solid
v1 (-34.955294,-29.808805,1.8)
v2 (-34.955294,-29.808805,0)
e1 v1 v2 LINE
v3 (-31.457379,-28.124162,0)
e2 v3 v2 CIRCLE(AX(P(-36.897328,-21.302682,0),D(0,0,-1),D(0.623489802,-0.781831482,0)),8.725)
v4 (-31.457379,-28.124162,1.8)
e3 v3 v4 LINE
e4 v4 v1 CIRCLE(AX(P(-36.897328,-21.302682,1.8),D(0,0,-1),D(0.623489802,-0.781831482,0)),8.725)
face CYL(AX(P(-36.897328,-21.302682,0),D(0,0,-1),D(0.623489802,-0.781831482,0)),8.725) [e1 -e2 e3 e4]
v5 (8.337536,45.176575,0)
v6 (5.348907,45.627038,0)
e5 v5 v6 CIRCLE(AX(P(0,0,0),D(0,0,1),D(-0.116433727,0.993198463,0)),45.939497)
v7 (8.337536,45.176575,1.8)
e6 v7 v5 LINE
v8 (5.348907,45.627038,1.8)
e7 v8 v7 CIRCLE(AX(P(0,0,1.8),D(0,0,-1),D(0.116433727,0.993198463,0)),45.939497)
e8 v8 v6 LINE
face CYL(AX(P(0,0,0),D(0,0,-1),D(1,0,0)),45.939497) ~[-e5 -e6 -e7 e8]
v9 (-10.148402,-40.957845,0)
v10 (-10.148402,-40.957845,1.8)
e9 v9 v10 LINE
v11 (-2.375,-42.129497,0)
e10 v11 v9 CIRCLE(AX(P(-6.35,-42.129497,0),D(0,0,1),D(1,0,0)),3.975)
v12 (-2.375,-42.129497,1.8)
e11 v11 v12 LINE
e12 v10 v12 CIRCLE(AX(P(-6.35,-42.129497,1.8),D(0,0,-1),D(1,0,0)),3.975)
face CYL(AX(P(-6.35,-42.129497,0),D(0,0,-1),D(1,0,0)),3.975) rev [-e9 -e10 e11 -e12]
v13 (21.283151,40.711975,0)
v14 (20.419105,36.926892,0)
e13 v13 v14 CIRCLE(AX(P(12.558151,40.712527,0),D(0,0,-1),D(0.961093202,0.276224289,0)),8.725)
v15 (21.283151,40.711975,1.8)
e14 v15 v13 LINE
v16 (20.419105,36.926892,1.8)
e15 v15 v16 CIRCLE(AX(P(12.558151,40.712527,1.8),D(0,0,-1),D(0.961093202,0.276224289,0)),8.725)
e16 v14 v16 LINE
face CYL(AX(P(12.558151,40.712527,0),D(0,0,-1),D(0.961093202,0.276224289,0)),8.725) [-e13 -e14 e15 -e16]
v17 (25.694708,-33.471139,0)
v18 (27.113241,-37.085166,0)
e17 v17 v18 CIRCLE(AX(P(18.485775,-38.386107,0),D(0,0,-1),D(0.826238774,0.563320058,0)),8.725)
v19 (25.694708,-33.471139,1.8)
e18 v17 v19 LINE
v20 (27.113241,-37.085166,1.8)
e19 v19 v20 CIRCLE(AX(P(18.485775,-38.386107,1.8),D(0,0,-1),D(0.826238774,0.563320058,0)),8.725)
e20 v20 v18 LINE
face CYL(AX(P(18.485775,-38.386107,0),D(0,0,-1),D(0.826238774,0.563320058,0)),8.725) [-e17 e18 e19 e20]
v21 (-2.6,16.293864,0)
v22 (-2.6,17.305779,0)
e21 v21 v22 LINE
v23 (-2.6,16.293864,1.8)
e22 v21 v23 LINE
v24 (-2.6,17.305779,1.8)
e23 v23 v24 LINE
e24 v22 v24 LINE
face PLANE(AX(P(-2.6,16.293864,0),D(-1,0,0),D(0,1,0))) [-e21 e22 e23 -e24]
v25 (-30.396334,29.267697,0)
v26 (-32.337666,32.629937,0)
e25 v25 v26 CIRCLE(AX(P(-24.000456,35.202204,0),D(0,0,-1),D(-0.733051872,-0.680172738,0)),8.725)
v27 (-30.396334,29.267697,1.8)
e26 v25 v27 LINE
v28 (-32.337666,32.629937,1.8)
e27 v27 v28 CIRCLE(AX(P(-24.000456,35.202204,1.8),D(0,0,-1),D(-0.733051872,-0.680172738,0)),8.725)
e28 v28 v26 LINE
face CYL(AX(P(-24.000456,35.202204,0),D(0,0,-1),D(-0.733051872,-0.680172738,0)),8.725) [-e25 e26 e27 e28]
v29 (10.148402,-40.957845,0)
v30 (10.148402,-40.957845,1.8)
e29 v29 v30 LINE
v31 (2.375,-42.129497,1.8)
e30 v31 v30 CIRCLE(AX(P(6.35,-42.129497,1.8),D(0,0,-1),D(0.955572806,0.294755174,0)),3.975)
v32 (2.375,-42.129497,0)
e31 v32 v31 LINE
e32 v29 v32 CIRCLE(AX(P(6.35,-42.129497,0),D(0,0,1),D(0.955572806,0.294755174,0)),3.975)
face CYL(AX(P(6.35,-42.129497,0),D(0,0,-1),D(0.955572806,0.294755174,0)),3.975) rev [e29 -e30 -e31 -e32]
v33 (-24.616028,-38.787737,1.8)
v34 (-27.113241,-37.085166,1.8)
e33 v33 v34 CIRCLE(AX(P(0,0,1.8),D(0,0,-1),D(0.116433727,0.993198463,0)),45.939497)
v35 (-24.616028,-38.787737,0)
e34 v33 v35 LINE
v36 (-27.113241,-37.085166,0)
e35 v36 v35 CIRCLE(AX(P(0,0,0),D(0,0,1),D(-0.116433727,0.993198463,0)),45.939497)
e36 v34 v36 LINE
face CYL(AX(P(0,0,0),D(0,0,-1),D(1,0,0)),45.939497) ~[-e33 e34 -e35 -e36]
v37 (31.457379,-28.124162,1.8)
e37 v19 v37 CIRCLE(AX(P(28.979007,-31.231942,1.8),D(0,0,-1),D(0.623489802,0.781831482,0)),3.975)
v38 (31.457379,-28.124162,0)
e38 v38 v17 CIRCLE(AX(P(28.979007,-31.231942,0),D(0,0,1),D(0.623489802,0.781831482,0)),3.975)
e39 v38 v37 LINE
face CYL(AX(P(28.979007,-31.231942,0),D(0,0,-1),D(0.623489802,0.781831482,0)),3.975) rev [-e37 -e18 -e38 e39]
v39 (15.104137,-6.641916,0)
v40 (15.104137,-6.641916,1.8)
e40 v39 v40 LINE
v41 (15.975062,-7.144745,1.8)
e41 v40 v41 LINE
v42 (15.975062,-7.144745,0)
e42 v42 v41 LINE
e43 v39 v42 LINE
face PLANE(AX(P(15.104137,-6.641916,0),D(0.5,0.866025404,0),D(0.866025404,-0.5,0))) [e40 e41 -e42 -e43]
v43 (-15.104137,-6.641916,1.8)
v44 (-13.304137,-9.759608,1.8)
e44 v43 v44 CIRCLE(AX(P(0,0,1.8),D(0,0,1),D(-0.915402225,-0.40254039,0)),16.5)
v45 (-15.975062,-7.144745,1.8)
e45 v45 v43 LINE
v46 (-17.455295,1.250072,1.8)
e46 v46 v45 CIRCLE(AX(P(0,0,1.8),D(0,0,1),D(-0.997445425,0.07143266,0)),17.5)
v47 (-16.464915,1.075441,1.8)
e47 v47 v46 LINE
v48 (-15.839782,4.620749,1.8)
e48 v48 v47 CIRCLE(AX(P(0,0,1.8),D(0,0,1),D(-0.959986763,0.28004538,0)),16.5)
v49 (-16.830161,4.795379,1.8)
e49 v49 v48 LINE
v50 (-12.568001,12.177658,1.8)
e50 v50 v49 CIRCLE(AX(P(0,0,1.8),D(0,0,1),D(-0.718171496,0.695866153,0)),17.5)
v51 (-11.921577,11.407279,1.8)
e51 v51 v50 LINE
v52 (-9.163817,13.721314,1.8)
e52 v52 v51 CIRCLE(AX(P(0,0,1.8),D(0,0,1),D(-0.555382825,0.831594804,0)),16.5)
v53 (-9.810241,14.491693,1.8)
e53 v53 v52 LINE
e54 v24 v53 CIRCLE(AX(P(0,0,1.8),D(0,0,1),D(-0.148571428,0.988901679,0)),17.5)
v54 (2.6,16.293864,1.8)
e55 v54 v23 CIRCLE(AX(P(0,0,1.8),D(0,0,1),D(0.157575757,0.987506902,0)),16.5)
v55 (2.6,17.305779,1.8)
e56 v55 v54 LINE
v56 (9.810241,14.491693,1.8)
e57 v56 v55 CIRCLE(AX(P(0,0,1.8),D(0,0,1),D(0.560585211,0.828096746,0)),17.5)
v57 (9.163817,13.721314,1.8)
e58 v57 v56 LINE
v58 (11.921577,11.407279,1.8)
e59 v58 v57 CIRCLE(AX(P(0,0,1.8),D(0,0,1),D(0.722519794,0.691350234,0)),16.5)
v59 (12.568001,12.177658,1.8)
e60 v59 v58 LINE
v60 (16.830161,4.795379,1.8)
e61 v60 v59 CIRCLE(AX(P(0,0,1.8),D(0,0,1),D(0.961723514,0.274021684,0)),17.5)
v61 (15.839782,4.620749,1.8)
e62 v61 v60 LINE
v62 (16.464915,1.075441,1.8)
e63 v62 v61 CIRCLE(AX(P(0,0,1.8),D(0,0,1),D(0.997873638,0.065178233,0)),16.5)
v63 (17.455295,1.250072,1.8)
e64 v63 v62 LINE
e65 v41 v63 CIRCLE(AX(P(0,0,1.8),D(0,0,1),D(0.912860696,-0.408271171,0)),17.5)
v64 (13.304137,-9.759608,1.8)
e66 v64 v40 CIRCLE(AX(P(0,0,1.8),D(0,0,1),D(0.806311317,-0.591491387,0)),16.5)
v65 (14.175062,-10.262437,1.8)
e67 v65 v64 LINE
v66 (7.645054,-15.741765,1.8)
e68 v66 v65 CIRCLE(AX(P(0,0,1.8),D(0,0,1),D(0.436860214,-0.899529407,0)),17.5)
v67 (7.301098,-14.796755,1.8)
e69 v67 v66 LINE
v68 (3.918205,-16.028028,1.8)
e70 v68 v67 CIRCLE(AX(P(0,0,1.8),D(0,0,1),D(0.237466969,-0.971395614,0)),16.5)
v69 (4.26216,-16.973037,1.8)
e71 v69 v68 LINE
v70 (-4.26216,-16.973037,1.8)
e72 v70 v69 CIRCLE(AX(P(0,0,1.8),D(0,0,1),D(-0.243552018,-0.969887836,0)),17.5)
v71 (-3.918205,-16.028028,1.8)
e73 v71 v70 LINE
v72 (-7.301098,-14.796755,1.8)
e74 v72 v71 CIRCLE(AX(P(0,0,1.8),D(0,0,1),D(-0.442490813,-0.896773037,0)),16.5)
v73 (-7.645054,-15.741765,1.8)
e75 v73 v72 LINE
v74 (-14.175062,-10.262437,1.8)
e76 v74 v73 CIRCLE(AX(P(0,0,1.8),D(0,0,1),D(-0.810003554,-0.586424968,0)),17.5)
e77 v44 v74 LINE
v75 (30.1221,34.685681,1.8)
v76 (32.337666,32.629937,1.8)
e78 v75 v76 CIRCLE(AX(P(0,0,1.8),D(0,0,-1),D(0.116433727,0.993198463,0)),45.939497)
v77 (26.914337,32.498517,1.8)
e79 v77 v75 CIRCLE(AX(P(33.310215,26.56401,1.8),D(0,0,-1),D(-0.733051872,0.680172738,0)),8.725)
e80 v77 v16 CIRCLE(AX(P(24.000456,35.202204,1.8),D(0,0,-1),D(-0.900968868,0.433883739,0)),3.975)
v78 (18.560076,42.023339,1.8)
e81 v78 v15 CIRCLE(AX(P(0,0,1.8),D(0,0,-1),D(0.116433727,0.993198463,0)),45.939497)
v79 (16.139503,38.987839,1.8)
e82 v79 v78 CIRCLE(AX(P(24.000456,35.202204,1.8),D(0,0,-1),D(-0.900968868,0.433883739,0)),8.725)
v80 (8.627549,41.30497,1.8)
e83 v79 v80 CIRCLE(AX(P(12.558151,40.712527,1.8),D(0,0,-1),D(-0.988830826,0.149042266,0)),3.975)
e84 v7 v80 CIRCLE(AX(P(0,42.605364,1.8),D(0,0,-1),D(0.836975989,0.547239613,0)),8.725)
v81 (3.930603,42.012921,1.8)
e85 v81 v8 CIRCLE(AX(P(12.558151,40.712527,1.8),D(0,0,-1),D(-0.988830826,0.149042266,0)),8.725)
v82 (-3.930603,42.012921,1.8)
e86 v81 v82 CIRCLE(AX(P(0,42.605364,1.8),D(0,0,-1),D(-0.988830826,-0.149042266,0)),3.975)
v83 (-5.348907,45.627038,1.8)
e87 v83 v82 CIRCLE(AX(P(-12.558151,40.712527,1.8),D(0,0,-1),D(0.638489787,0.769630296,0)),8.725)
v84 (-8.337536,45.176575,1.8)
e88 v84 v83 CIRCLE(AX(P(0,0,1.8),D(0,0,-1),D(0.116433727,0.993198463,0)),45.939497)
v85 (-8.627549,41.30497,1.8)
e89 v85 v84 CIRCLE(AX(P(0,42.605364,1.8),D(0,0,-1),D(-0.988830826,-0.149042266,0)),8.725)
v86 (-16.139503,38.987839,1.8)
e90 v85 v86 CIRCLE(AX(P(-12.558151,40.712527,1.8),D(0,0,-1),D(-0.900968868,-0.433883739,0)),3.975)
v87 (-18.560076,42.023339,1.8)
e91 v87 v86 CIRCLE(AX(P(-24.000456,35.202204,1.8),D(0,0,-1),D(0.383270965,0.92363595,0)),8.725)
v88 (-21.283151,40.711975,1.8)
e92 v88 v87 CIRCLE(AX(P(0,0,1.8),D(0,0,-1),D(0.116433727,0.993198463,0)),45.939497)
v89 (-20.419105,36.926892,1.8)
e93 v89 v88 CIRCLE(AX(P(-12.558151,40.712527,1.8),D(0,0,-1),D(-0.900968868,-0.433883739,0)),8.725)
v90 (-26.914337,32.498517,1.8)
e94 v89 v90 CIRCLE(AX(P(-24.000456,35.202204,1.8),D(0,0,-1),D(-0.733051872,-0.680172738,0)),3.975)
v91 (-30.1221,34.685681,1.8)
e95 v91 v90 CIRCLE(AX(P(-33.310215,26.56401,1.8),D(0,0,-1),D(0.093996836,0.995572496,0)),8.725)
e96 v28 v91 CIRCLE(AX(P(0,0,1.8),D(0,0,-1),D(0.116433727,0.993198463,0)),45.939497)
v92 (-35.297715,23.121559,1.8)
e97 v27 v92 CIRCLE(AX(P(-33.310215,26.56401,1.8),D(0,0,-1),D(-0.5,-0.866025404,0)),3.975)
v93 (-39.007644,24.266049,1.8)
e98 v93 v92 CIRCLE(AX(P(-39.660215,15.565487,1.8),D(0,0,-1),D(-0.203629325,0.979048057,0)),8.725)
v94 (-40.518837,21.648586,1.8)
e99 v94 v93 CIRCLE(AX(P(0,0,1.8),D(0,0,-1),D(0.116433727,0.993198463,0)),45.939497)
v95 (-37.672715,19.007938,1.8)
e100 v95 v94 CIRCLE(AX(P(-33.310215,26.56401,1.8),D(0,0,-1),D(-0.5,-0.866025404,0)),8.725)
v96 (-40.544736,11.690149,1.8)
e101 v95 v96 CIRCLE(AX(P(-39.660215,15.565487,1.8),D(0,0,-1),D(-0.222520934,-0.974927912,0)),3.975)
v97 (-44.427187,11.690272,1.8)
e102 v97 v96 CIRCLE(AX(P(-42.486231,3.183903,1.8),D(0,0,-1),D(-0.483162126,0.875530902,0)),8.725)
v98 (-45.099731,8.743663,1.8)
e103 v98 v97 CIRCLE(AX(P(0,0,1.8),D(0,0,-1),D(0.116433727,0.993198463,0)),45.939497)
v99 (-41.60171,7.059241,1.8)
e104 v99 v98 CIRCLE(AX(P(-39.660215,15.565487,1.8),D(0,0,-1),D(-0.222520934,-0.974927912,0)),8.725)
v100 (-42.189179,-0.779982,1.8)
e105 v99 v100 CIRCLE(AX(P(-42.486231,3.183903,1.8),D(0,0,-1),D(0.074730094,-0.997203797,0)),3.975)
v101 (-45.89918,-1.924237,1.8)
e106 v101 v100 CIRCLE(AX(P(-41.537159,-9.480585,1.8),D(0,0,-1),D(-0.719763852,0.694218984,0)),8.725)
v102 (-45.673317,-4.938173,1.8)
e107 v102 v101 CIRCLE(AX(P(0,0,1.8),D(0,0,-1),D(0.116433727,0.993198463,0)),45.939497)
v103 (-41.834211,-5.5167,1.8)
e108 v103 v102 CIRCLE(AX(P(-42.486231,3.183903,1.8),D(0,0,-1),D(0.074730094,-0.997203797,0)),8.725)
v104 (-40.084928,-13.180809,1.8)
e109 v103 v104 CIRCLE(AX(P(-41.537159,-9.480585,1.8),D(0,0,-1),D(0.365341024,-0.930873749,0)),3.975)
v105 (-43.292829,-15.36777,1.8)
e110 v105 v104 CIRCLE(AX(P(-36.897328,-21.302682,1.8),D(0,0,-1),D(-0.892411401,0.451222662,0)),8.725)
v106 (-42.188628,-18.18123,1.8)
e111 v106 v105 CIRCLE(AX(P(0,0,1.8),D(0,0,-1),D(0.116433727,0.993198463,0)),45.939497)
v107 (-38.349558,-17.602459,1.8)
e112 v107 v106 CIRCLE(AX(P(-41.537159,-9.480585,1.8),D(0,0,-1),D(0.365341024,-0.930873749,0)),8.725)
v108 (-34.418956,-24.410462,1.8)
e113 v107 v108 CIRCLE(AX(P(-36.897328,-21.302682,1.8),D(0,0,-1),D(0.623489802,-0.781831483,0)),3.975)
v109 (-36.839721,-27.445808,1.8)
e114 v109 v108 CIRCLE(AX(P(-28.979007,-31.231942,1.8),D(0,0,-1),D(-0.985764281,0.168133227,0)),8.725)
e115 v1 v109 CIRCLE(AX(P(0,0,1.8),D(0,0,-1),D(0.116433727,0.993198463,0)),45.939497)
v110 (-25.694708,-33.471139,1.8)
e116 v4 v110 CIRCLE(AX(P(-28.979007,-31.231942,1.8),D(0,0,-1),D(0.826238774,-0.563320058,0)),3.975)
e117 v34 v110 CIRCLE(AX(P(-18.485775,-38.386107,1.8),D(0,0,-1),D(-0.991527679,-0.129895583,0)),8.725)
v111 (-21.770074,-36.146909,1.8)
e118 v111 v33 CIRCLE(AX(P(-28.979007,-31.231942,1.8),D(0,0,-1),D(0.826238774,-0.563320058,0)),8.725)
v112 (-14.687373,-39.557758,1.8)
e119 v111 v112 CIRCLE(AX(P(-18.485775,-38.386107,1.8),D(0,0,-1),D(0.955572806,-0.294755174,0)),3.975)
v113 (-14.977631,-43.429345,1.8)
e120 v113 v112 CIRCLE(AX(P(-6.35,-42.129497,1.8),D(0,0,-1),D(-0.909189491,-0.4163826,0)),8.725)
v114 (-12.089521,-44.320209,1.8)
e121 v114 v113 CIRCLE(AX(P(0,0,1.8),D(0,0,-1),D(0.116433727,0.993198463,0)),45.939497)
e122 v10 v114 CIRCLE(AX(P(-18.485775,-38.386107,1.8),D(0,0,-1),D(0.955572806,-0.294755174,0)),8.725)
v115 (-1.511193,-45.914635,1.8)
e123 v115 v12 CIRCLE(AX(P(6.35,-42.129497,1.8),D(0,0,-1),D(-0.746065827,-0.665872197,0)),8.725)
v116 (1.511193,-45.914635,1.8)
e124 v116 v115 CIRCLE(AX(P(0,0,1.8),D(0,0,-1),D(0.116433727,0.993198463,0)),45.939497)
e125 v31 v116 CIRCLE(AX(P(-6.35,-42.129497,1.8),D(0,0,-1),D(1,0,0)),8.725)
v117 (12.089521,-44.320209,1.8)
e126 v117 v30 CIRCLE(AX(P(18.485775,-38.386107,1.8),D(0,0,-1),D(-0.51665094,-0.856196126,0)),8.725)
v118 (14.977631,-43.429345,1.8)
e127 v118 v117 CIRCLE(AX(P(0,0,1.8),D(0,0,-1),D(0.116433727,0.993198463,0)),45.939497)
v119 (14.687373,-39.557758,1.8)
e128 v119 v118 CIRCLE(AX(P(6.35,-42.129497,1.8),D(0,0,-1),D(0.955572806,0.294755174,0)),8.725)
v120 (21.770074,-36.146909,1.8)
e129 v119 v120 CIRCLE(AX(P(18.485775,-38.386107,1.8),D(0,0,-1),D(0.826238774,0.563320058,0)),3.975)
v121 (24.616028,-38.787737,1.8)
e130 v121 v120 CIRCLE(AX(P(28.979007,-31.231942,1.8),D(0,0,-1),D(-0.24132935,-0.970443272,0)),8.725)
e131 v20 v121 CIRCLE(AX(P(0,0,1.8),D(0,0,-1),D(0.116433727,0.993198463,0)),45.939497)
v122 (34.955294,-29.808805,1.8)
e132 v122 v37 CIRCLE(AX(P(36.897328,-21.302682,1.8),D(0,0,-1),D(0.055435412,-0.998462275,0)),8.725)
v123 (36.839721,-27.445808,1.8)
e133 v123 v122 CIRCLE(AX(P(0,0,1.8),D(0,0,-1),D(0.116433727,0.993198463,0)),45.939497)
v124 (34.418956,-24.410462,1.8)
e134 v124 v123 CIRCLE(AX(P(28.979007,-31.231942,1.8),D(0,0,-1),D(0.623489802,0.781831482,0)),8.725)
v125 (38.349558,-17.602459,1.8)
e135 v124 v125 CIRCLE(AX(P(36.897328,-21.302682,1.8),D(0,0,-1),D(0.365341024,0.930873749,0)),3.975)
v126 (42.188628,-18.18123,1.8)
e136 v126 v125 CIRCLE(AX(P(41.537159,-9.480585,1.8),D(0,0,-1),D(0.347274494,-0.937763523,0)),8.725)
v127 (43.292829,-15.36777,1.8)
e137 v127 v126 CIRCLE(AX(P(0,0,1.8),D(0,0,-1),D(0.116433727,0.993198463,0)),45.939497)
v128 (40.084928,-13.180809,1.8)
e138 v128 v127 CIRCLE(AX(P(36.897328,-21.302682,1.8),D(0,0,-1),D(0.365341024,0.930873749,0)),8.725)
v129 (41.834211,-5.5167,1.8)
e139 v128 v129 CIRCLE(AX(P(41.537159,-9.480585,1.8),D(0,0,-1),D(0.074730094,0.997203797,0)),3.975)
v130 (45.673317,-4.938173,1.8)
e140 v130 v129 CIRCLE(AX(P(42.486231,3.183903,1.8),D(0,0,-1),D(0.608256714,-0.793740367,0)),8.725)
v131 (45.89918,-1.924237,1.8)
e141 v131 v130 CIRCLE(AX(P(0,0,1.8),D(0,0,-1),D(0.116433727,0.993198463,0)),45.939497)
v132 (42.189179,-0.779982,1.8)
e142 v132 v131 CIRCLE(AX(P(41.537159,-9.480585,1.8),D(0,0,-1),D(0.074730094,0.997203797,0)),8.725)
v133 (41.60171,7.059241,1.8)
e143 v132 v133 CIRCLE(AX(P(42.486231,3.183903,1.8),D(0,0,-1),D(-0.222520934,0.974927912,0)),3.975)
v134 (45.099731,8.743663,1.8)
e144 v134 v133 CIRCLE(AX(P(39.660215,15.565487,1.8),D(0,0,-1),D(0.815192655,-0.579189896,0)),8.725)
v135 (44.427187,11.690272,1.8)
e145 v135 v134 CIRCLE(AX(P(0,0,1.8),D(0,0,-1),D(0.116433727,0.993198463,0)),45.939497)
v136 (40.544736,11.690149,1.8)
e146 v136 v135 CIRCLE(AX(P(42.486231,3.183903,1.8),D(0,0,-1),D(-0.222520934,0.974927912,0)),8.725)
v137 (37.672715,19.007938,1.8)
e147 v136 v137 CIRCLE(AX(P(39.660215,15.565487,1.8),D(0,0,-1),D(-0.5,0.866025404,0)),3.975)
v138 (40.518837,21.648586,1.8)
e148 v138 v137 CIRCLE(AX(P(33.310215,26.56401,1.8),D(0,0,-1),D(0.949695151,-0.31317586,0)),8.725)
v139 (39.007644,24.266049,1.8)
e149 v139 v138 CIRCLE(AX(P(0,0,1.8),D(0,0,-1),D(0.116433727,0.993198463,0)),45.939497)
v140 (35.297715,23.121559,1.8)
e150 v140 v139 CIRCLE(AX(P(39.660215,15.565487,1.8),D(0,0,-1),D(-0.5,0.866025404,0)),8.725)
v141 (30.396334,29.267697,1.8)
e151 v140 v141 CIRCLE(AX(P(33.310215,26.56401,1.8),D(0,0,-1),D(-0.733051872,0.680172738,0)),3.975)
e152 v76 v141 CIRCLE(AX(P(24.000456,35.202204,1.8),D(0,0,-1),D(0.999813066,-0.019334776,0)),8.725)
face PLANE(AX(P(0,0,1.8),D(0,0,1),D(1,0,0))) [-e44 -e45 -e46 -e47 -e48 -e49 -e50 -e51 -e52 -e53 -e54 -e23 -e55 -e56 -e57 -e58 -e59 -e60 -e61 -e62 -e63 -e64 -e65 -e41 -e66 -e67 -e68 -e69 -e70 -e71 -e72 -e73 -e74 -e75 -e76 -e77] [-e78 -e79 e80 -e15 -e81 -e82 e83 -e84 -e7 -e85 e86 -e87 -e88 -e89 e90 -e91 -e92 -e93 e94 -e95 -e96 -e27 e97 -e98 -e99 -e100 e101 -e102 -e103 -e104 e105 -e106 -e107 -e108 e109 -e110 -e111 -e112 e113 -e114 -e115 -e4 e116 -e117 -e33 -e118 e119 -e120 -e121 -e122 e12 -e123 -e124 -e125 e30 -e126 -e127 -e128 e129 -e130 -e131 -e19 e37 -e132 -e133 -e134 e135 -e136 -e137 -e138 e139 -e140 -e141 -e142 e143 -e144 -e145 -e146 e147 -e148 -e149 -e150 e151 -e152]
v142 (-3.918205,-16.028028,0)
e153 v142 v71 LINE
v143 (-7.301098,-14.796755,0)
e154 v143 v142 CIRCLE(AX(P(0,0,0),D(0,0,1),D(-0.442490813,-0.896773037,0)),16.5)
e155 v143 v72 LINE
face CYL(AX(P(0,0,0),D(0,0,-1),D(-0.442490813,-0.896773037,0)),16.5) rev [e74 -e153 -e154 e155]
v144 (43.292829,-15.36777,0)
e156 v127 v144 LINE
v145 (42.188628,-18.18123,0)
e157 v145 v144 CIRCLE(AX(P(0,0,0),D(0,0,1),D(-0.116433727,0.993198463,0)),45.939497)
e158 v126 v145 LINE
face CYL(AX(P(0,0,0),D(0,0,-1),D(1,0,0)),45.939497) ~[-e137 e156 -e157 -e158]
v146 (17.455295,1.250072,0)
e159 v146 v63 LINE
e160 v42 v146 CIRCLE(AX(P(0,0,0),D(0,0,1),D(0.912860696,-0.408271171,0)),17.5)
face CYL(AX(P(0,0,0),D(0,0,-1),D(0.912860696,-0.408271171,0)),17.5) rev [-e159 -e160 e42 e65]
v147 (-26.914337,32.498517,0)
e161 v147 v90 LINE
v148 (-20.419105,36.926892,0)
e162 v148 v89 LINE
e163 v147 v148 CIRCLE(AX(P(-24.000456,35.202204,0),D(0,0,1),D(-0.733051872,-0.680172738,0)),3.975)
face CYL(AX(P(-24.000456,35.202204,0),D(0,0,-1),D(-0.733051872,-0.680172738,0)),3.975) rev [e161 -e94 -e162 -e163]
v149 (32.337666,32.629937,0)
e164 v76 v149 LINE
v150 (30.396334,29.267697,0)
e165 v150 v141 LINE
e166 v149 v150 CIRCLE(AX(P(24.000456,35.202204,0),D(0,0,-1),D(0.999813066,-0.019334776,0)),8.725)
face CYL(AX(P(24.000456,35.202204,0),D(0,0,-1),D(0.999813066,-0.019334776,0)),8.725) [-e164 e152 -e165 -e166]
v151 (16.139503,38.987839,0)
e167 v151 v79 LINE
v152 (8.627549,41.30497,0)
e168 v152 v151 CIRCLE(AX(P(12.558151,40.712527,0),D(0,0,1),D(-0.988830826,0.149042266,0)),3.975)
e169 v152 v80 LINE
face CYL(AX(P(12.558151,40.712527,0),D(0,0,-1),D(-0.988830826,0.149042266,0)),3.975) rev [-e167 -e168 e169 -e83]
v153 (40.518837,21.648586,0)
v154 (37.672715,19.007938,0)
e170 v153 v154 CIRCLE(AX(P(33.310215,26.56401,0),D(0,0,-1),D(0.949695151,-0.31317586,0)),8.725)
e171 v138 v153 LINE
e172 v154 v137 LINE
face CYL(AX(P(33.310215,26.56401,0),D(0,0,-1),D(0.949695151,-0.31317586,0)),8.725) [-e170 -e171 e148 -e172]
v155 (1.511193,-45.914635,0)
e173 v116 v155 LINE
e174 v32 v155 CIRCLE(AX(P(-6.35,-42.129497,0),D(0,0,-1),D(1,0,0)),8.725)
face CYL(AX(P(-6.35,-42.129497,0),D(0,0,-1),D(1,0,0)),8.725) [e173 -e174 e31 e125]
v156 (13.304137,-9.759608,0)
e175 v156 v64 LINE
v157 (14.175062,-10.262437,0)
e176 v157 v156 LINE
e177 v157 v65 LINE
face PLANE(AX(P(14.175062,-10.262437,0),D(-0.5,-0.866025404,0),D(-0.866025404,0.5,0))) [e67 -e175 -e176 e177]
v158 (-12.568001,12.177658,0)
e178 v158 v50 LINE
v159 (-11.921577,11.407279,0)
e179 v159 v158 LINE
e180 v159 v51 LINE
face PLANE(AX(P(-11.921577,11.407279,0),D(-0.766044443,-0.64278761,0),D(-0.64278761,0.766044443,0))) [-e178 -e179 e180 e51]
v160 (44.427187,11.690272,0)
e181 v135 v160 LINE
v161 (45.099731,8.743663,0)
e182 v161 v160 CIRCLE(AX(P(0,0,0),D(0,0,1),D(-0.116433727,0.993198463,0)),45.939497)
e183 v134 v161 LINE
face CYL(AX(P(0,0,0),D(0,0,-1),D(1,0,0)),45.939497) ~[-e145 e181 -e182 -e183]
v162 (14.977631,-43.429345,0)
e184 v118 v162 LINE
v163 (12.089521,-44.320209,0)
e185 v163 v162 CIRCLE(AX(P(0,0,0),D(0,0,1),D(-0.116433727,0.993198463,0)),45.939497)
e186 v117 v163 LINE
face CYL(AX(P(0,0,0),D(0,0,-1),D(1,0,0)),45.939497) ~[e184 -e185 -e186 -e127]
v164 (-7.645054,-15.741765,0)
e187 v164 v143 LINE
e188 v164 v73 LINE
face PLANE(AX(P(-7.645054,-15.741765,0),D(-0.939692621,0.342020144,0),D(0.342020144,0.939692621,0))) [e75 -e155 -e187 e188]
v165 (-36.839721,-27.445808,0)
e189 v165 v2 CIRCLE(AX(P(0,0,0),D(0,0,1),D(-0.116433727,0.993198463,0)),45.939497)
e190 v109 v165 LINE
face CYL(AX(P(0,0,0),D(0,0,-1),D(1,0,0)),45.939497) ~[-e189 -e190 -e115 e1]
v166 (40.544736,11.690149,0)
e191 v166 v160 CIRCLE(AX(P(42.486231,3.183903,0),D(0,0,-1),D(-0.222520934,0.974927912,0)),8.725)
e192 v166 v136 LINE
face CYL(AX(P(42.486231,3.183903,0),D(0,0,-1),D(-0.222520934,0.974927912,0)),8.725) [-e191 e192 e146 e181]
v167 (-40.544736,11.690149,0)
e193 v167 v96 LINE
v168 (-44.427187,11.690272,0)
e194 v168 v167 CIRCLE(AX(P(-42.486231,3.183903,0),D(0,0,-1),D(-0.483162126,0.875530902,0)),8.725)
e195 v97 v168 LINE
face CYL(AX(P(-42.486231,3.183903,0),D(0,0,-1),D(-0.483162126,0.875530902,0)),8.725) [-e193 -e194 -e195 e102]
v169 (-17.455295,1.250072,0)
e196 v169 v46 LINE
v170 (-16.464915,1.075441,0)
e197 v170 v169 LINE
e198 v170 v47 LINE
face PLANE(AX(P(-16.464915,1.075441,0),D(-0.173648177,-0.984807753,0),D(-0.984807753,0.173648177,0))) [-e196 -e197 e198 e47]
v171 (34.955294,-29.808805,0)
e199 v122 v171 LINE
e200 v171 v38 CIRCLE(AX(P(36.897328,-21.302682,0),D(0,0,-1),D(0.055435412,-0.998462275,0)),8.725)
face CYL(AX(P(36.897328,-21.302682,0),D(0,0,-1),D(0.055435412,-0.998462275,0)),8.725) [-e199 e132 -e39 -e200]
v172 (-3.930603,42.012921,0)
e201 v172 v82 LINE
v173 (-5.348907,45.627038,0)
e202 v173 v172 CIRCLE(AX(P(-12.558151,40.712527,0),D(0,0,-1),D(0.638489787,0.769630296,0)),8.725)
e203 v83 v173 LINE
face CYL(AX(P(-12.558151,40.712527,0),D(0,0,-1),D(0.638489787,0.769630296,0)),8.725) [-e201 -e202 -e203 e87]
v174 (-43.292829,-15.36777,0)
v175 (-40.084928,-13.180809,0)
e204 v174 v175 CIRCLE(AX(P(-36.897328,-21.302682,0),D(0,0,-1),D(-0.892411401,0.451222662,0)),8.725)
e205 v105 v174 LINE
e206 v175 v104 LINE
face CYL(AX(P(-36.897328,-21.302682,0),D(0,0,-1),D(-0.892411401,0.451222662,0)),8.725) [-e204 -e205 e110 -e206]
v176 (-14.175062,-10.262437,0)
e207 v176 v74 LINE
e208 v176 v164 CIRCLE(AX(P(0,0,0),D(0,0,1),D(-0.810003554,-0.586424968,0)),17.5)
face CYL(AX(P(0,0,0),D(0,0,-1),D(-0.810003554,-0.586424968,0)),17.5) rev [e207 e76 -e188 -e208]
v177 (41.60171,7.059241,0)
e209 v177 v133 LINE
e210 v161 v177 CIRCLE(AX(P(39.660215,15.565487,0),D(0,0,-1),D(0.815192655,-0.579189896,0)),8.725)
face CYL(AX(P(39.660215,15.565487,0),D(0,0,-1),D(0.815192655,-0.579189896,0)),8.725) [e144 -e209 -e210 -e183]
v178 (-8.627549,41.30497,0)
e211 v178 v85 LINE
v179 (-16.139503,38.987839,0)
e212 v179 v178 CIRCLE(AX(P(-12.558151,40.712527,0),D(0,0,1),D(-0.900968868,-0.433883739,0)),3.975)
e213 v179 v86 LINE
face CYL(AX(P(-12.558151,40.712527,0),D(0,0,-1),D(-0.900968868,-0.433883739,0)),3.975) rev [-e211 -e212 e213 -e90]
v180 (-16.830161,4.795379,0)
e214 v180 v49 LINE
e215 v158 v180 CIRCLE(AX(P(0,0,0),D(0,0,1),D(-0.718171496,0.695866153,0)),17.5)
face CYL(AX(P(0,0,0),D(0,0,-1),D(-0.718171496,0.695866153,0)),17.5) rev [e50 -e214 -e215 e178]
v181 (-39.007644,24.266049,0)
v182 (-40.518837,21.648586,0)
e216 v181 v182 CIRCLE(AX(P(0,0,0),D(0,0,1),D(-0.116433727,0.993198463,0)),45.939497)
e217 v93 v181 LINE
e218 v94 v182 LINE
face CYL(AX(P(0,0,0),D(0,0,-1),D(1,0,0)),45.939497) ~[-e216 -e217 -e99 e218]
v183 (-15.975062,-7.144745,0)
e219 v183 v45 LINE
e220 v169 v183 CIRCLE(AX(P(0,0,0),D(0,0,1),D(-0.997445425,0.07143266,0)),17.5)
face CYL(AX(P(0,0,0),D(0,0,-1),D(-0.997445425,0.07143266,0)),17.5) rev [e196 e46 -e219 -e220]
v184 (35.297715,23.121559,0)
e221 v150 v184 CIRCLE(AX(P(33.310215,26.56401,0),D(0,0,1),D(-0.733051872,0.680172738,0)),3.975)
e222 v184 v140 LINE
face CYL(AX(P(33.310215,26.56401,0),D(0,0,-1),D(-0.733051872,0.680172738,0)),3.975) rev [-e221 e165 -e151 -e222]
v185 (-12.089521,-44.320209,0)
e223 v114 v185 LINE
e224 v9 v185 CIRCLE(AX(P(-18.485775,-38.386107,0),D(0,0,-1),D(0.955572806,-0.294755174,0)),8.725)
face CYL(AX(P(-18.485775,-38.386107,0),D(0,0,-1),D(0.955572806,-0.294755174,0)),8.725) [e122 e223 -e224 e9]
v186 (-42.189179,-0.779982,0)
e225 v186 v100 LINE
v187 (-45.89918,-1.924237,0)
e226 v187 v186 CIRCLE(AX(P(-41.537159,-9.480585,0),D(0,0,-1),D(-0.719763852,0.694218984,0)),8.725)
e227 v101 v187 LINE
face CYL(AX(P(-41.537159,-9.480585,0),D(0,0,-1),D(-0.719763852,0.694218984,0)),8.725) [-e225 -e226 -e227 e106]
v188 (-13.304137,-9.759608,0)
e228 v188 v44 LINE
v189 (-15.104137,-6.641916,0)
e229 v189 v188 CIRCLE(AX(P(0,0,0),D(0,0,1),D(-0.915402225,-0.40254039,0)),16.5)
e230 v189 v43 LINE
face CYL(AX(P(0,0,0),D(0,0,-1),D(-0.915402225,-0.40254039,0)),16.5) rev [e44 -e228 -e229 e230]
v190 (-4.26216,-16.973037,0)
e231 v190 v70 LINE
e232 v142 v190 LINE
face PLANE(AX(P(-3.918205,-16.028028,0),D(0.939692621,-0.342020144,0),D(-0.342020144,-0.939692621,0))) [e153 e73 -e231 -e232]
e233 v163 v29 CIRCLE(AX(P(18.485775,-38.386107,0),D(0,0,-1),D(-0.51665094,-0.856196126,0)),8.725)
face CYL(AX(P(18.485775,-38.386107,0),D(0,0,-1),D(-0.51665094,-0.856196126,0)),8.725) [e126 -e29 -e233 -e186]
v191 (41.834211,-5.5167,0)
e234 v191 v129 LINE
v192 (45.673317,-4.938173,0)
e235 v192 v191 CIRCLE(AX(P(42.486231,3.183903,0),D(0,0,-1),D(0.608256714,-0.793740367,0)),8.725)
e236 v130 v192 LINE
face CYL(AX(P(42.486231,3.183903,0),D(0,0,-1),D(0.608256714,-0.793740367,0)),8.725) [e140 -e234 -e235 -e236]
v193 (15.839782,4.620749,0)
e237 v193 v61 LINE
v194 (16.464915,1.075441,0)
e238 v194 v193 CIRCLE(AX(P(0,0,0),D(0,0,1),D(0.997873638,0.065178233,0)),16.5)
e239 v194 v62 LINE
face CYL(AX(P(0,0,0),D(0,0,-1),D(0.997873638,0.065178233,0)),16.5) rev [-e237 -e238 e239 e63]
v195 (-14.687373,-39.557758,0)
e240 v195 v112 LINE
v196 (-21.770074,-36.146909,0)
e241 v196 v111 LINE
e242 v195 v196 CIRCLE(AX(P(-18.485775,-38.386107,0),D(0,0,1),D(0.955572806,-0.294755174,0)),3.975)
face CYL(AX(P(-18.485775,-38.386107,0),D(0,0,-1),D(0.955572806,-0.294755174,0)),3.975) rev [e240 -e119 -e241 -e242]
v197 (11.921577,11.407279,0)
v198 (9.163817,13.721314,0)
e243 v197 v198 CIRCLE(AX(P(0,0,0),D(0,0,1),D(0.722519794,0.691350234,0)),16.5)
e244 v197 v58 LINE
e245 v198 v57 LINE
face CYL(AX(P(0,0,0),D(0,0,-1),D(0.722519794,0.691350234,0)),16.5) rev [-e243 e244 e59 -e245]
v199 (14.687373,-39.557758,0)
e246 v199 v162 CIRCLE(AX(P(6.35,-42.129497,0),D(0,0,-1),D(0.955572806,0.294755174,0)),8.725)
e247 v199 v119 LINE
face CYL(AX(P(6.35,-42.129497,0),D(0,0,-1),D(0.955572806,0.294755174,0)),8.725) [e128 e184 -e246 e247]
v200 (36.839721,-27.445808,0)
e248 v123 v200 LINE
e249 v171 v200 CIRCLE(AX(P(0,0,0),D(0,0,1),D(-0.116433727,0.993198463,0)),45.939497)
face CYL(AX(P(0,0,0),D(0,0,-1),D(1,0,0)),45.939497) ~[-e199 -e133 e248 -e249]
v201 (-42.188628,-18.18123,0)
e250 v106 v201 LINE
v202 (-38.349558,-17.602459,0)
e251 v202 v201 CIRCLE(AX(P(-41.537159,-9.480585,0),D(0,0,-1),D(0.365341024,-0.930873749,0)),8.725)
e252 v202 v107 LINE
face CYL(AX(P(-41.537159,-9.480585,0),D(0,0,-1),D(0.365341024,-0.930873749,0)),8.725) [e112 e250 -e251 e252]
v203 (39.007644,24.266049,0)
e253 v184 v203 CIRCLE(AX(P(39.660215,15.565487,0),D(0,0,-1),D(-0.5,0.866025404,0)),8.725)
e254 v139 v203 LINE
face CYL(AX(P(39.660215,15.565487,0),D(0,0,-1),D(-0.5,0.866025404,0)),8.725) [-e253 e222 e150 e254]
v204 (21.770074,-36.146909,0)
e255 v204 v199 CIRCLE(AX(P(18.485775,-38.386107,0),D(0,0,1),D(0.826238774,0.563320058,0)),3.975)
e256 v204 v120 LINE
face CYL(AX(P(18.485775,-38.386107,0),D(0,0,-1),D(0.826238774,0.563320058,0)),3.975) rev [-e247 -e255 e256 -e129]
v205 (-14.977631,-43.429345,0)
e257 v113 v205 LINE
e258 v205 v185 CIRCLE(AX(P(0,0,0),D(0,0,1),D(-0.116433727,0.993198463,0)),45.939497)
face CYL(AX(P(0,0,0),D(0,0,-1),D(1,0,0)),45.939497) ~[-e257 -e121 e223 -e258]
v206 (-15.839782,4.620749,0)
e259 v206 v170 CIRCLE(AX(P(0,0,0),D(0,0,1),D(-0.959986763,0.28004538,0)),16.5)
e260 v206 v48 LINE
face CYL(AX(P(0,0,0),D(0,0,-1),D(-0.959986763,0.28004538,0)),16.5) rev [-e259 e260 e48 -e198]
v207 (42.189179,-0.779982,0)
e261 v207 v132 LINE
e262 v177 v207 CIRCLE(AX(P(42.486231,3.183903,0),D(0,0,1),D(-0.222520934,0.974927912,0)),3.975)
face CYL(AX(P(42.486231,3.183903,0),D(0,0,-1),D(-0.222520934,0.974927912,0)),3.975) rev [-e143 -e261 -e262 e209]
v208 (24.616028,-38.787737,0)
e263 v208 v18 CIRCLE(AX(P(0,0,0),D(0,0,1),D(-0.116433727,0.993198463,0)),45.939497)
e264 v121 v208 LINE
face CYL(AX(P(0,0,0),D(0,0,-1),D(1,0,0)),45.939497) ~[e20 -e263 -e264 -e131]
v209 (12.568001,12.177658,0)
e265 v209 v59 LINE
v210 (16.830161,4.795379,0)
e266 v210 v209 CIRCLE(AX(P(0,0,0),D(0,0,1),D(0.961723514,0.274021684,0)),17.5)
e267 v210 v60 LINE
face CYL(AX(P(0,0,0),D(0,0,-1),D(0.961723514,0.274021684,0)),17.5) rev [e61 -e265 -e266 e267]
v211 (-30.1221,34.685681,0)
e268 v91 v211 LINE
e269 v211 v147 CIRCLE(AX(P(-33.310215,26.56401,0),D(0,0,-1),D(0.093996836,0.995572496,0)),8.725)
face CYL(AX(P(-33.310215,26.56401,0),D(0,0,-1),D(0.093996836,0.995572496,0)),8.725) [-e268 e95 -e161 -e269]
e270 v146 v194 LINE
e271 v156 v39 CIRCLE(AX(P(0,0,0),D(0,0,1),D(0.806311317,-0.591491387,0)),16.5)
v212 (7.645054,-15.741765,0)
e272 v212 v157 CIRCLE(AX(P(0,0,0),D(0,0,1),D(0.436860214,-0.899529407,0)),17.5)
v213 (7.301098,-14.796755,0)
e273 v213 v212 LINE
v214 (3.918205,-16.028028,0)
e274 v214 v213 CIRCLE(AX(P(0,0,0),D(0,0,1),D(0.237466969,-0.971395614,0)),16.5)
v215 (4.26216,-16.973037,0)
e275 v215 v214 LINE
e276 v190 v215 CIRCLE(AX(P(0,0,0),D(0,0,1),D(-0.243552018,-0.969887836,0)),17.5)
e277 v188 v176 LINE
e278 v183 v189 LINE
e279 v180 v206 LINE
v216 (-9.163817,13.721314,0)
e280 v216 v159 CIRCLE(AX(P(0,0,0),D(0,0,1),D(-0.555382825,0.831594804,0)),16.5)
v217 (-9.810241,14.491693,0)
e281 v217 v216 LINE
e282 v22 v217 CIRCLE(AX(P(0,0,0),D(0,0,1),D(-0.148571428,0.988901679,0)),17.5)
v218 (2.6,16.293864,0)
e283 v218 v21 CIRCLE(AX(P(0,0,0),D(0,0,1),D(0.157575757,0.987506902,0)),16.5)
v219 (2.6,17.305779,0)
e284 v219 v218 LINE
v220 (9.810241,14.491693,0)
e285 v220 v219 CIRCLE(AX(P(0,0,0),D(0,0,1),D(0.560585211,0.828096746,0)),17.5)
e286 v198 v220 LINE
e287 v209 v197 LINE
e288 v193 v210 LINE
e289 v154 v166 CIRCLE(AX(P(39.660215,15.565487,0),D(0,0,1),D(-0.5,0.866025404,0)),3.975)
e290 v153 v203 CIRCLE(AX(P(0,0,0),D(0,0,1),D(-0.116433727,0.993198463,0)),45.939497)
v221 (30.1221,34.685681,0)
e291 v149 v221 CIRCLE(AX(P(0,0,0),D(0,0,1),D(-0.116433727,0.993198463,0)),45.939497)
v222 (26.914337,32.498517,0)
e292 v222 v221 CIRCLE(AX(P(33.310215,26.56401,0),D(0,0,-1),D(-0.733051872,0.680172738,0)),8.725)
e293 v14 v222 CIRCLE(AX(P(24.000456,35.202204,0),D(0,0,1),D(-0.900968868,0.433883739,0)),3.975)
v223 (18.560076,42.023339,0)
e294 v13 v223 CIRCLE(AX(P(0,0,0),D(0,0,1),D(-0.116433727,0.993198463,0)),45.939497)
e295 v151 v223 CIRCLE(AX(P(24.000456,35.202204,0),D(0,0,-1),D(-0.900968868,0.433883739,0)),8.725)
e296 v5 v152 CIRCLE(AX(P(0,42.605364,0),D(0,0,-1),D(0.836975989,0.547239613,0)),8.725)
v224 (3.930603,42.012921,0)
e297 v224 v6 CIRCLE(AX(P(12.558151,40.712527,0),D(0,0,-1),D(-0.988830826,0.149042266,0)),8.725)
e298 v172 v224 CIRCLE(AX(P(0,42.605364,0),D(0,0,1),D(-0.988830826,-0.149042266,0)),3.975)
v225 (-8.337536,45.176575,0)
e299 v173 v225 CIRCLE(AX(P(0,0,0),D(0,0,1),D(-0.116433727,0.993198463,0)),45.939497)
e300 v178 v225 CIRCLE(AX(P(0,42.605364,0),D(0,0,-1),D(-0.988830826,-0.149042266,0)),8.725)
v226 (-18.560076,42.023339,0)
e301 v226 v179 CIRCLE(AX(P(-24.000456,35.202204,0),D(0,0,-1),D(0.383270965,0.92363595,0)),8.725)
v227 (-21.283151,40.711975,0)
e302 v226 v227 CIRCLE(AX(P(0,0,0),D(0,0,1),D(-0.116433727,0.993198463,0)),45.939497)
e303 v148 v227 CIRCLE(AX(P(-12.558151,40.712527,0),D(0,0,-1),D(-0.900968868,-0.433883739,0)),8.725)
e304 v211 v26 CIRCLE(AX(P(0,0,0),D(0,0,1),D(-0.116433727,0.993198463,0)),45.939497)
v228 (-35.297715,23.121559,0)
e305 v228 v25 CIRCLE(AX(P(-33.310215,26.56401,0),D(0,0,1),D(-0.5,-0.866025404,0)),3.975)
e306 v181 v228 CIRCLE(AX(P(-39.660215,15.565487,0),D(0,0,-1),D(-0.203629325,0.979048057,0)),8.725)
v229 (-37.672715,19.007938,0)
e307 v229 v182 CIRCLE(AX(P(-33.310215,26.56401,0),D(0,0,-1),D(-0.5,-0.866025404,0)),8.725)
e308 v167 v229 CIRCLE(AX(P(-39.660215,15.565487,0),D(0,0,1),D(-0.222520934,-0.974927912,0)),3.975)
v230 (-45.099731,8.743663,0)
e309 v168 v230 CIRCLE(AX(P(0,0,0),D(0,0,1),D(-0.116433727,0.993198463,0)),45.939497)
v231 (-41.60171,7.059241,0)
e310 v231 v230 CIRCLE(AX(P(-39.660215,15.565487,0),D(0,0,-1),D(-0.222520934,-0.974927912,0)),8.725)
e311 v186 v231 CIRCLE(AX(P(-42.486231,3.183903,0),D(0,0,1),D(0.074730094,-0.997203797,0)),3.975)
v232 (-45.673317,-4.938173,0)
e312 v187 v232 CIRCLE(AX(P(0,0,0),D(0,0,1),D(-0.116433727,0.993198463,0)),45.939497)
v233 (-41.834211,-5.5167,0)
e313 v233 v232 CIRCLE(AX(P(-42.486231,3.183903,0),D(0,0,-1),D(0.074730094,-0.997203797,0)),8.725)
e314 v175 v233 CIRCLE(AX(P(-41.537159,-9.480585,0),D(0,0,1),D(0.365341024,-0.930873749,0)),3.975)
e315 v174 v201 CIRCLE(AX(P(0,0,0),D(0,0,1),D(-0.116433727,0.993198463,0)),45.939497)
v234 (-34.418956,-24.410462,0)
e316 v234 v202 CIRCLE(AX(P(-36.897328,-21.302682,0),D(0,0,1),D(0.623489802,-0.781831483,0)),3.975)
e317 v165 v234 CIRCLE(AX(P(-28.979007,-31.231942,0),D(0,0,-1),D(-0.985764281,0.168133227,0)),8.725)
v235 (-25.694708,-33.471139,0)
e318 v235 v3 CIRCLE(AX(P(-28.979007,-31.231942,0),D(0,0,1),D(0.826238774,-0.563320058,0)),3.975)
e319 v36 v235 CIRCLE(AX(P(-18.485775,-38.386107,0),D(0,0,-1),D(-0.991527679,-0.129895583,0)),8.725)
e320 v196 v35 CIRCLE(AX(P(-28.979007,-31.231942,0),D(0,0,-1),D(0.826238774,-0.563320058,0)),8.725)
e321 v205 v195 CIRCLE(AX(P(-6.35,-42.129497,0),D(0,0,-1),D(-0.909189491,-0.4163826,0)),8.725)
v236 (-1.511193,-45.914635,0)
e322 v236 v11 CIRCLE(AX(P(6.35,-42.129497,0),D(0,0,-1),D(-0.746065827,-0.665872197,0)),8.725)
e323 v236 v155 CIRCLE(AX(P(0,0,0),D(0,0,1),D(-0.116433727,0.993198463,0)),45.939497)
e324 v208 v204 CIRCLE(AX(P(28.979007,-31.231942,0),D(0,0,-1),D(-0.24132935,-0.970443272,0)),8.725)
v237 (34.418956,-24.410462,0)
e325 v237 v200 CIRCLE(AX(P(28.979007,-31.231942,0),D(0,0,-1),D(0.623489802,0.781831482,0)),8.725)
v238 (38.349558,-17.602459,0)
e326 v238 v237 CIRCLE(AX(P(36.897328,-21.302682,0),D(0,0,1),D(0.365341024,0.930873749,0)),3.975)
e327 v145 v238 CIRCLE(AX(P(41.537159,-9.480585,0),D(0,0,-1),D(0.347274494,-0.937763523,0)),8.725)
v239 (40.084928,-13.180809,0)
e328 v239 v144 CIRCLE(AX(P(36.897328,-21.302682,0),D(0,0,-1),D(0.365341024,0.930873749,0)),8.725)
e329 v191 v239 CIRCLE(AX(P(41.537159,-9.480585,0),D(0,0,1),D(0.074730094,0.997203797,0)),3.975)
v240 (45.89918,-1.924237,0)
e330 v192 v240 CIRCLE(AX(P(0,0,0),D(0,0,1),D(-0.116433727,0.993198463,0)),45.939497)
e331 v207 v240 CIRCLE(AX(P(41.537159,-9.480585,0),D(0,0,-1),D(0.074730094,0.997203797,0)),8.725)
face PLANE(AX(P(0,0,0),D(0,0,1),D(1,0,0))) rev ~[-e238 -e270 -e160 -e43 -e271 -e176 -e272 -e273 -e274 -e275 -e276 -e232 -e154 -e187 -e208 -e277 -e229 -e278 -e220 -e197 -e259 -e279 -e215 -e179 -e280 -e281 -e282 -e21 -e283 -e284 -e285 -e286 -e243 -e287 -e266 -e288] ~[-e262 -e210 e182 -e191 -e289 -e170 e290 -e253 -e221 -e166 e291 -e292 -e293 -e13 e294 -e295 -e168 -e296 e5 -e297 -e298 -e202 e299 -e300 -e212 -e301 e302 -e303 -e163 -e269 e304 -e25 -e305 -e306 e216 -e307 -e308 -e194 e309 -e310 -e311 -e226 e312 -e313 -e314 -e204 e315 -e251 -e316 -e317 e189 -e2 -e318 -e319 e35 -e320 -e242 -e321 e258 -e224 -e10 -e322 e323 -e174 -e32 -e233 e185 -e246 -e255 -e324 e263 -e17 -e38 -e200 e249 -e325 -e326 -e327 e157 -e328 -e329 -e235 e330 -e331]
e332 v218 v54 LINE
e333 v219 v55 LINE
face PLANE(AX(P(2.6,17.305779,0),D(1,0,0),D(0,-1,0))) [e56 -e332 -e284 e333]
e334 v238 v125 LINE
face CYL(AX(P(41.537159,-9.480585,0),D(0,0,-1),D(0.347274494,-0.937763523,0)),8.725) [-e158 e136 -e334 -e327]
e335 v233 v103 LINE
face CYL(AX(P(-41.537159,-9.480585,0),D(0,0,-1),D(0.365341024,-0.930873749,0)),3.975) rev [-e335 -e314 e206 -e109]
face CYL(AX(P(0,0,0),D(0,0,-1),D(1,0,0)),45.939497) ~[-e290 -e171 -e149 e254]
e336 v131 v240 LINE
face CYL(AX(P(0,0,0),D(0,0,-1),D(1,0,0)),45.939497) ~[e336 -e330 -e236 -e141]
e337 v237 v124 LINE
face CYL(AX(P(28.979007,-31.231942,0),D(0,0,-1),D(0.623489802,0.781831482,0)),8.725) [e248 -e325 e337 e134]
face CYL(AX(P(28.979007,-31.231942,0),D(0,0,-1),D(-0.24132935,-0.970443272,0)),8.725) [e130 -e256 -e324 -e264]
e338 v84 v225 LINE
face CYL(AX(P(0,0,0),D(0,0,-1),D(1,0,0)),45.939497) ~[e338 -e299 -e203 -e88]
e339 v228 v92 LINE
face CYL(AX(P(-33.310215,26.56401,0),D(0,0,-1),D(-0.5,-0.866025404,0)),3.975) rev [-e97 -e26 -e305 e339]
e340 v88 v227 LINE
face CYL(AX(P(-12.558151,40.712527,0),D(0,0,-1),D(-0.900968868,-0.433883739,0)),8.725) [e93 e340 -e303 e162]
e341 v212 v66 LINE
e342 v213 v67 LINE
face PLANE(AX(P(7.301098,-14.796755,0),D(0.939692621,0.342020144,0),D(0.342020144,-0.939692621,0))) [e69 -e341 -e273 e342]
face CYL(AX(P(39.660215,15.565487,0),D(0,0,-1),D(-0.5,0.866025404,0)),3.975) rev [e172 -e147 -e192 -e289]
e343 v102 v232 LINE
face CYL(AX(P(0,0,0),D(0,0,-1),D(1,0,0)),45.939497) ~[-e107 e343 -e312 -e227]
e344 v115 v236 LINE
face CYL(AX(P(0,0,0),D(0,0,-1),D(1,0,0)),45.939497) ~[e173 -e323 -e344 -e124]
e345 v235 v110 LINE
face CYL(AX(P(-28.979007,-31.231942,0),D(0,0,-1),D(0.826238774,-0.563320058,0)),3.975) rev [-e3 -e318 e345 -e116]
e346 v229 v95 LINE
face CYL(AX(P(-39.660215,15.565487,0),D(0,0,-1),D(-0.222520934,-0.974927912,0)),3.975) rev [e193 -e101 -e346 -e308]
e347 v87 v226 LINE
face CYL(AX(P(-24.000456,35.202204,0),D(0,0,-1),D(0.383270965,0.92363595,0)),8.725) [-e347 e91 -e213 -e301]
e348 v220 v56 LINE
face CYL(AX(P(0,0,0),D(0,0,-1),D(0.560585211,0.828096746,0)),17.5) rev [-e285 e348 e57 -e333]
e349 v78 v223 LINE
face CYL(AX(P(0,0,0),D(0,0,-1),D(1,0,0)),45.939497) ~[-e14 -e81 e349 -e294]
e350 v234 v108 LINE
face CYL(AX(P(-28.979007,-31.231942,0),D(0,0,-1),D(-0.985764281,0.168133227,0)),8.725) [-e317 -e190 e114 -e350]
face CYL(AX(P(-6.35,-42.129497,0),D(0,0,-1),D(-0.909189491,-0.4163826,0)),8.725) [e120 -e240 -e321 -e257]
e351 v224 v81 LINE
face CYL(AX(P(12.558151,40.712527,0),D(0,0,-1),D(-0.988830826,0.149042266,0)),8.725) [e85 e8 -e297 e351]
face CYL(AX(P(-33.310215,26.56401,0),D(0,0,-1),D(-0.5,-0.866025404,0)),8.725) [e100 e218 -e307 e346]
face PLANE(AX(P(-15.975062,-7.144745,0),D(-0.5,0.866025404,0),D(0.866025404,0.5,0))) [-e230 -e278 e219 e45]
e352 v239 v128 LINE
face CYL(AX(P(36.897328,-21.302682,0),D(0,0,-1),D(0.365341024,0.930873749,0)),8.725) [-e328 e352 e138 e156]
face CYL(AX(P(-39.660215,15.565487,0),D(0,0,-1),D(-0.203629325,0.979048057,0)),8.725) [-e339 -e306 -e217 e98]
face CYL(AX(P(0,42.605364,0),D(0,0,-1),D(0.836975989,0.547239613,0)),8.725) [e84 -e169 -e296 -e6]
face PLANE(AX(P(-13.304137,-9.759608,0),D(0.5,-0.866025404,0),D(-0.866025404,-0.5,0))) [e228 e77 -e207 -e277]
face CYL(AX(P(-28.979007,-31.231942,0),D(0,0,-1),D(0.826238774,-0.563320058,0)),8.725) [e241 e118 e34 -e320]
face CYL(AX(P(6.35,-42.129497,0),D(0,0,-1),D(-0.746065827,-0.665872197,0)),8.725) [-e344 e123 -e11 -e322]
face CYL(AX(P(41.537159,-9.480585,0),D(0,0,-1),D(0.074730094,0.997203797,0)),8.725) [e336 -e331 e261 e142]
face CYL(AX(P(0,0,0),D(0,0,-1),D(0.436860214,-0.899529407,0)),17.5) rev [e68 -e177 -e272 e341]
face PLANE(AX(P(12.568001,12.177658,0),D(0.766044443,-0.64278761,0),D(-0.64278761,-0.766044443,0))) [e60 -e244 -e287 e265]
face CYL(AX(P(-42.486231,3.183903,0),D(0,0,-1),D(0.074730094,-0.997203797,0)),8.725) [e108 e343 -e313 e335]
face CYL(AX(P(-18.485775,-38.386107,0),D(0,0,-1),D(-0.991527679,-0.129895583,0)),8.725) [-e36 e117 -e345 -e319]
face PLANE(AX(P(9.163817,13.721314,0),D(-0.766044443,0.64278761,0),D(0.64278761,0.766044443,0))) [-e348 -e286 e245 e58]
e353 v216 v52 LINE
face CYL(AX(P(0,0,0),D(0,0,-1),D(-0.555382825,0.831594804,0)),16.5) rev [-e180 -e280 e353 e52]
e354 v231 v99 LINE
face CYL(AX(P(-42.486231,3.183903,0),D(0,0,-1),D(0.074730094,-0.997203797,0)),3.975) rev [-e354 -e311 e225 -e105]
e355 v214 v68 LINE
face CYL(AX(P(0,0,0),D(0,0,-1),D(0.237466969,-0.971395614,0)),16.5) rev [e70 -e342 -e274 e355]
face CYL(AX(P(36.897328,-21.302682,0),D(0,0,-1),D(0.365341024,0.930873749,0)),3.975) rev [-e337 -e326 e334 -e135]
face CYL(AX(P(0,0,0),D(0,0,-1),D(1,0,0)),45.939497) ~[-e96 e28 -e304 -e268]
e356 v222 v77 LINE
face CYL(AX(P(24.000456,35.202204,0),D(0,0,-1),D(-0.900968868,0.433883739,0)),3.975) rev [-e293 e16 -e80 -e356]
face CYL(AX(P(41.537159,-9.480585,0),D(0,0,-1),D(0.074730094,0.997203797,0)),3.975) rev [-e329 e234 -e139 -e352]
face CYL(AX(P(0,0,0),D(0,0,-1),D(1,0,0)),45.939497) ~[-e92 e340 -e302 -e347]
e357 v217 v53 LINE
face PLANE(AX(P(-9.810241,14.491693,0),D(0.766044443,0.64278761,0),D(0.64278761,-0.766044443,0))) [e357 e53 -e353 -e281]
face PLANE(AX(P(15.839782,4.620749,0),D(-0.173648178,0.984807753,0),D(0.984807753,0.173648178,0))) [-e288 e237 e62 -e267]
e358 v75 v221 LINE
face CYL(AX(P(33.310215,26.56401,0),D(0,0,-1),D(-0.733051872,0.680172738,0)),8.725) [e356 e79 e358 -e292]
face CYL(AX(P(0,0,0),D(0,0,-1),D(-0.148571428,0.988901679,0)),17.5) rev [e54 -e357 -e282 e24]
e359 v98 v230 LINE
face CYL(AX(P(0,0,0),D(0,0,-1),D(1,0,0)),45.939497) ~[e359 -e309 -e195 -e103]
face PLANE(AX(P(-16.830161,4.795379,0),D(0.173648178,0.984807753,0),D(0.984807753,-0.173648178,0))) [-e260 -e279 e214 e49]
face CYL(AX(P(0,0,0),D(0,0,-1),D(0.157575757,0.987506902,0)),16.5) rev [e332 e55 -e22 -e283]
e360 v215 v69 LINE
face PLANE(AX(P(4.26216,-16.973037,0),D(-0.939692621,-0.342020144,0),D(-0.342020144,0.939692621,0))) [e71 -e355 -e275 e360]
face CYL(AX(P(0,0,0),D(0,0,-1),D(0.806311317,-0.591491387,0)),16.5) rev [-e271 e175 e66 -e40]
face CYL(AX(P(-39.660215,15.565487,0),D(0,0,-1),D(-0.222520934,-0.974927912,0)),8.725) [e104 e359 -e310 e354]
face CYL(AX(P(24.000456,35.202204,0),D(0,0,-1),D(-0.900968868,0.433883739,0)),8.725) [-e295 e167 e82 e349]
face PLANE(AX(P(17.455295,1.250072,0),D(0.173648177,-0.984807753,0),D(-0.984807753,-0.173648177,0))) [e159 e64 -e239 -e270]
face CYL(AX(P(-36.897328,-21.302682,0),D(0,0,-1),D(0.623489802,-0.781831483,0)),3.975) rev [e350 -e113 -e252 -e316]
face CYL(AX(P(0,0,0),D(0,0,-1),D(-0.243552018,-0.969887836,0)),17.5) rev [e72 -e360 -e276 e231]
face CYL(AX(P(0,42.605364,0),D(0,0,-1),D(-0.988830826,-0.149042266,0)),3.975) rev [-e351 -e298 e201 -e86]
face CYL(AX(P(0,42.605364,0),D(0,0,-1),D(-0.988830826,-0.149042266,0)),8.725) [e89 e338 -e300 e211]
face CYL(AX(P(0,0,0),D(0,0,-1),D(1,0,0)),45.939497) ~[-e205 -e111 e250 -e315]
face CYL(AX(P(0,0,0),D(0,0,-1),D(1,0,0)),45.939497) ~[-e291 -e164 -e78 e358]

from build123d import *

# Parameters (mm, degrees)
SK_DISCO_R           = 45.939497274
DISCO_DEPTH          = 1.8
HUECO_DIENTE_DEPTH   = 65.993190563
MATRIZ_DIENTES_COUNT = 21


with BuildPart() as part:
    # Sk_Disco → Disco (new body)
    with BuildSketch(Plane.XY):
        Circle(SK_DISCO_R)
        with BuildLine():
            Line((2.6, 17.305779381), (2.6, 16.293863876))
            ThreePointArc((2.6, 16.293863876), (0, 16.5), (-2.6, 16.293863876))
            Line((-2.6, 16.293863876), (-2.6, 17.305779381))
            ThreePointArc((-2.6, 17.305779381), (-6.362648192, 16.302352836), (-9.810241185, 14.491693065))
            Line((-9.810241185, 14.491693065), (-9.163816615, 13.721314261))
            ThreePointArc((-9.163816615, 13.721314261), (-10.60599556, 12.639733311), (-11.92157661, 11.407278866))
            Line((-11.92157661, 11.407278866), (-12.56800118, 12.17765767))
            ThreePointArc((-12.56800118, 12.17765767), (-15.155444566, 8.75), (-16.830161491, 4.795379462))
            Line((-16.830161491, 4.795379462), (-15.839781591, 4.620748764))
            ThreePointArc((-15.839781591, 4.620748764), (-16.249327925, 2.865194932), (-16.464915031, 1.075440854))
            Line((-16.464915031, 1.075440854), (-17.455294931, 1.250071551))
            ThreePointArc((-17.455294931, 1.250071551), (-17.234135678, -3.038843109), (-15.975062189, -7.144745486))
            Line((-15.975062189, -7.144745486), (-15.104136721, -6.641916433))
            ThreePointArc((-15.104136721, -6.641916433), (-14.289419162, -8.25), (-13.304136721, -9.759607887))
            Line((-13.304136721, -9.759607887), (-14.175062189, -10.26243694))
            ThreePointArc((-14.175062189, -10.26243694), (-11.24878317, -13.405777755), (-7.645053746, -15.741764616))
            Line((-7.645053746, -15.741764616), (-7.301098416, -14.796755115))
            ThreePointArc((-7.301098416, -14.796755115), (-5.643332365, -15.504928243), (-3.918204981, -16.028027631))
            Line((-3.918204981, -16.028027631), (-4.262160311, -16.973037132))
            ThreePointArc((-4.262160311, -16.973037132), (0, -17.5), (4.262160311, -16.973037132))
            Line((4.262160311, -16.973037132), (3.918204981, -16.028027631))
            ThreePointArc((3.918204981, -16.028027631), (5.643332365, -15.504928243), (7.301098416, -14.796755115))
            Line((7.301098416, -14.796755115), (7.645053746, -15.741764616))
            ThreePointArc((7.645053746, -15.741764616), (11.24878317, -13.405777755), (14.175062189, -10.26243694))
            Line((14.175062189, -10.26243694), (13.304136721, -9.759607887))
            ThreePointArc((13.304136721, -9.759607887), (14.289419162, -8.25), (15.104136721, -6.641916433))
            Line((15.104136721, -6.641916433), (15.975062189, -7.144745486))
            ThreePointArc((15.975062189, -7.144745486), (17.234135678, -3.038843109), (17.455294931, 1.250071551))
            Line((17.455294931, 1.250071551), (16.464915031, 1.075440854))
            ThreePointArc((16.464915031, 1.075440854), (16.249327925, 2.865194932), (15.839781591, 4.620748764))
            Line((15.839781591, 4.620748764), (16.830161491, 4.795379462))
            ThreePointArc((16.830161491, 4.795379462), (15.155444566, 8.75), (12.56800118, 12.17765767))
            Line((12.56800118, 12.17765767), (11.92157661, 11.407278866))
            ThreePointArc((11.92157661, 11.407278866), (10.60599556, 12.639733311), (9.163816615, 13.721314261))
            Line((9.163816615, 13.721314261), (9.810241185, 14.491693065))
            ThreePointArc((9.810241185, 14.491693065), (6.362648192, 16.302352836), (2.6, 17.305779381))
        make_face(mode=Mode.SUBTRACT)
    extrude(amount=DISCO_DEPTH)

    # Sk_Hueco → Hueco_diente (cut, through all)
    with BuildSketch(Plane.XY):
        with BuildLine():
            ThreePointArc((-3.930602534, 42.01292098), (0, 38.630363988), (3.930602534, 42.01292098))
            ThreePointArc((3.930602534, 42.01292098), (4.960257024, 45.001772437), (6.987328103, 47.427551537))
            ThreePointArc((6.987328103, 47.427551537), (0, 47.939497274), (-6.987328103, 47.427551537))
            ThreePointArc((-6.987328103, 47.427551537), (-4.960257024, 45.001772437), (-3.930602534, 42.01292098))
        make_face()
    hueco_diente = extrude(amount=HUECO_DIENTE_DEPTH, mode=Mode.SUBTRACT)

    # Matriz_dientes: Hueco_diente ×21 about axis
    matriz_dientes_axis = Axis((0, 0, -0.09), (0, 0, 1))
    for i in range(1, MATRIZ_DIENTES_COUNT):
        add(hueco_diente.rotate(matriz_dientes_axis, i * 360 / MATRIZ_DIENTES_COUNT), mode=Mode.SUBTRACT)


solid = part.part
